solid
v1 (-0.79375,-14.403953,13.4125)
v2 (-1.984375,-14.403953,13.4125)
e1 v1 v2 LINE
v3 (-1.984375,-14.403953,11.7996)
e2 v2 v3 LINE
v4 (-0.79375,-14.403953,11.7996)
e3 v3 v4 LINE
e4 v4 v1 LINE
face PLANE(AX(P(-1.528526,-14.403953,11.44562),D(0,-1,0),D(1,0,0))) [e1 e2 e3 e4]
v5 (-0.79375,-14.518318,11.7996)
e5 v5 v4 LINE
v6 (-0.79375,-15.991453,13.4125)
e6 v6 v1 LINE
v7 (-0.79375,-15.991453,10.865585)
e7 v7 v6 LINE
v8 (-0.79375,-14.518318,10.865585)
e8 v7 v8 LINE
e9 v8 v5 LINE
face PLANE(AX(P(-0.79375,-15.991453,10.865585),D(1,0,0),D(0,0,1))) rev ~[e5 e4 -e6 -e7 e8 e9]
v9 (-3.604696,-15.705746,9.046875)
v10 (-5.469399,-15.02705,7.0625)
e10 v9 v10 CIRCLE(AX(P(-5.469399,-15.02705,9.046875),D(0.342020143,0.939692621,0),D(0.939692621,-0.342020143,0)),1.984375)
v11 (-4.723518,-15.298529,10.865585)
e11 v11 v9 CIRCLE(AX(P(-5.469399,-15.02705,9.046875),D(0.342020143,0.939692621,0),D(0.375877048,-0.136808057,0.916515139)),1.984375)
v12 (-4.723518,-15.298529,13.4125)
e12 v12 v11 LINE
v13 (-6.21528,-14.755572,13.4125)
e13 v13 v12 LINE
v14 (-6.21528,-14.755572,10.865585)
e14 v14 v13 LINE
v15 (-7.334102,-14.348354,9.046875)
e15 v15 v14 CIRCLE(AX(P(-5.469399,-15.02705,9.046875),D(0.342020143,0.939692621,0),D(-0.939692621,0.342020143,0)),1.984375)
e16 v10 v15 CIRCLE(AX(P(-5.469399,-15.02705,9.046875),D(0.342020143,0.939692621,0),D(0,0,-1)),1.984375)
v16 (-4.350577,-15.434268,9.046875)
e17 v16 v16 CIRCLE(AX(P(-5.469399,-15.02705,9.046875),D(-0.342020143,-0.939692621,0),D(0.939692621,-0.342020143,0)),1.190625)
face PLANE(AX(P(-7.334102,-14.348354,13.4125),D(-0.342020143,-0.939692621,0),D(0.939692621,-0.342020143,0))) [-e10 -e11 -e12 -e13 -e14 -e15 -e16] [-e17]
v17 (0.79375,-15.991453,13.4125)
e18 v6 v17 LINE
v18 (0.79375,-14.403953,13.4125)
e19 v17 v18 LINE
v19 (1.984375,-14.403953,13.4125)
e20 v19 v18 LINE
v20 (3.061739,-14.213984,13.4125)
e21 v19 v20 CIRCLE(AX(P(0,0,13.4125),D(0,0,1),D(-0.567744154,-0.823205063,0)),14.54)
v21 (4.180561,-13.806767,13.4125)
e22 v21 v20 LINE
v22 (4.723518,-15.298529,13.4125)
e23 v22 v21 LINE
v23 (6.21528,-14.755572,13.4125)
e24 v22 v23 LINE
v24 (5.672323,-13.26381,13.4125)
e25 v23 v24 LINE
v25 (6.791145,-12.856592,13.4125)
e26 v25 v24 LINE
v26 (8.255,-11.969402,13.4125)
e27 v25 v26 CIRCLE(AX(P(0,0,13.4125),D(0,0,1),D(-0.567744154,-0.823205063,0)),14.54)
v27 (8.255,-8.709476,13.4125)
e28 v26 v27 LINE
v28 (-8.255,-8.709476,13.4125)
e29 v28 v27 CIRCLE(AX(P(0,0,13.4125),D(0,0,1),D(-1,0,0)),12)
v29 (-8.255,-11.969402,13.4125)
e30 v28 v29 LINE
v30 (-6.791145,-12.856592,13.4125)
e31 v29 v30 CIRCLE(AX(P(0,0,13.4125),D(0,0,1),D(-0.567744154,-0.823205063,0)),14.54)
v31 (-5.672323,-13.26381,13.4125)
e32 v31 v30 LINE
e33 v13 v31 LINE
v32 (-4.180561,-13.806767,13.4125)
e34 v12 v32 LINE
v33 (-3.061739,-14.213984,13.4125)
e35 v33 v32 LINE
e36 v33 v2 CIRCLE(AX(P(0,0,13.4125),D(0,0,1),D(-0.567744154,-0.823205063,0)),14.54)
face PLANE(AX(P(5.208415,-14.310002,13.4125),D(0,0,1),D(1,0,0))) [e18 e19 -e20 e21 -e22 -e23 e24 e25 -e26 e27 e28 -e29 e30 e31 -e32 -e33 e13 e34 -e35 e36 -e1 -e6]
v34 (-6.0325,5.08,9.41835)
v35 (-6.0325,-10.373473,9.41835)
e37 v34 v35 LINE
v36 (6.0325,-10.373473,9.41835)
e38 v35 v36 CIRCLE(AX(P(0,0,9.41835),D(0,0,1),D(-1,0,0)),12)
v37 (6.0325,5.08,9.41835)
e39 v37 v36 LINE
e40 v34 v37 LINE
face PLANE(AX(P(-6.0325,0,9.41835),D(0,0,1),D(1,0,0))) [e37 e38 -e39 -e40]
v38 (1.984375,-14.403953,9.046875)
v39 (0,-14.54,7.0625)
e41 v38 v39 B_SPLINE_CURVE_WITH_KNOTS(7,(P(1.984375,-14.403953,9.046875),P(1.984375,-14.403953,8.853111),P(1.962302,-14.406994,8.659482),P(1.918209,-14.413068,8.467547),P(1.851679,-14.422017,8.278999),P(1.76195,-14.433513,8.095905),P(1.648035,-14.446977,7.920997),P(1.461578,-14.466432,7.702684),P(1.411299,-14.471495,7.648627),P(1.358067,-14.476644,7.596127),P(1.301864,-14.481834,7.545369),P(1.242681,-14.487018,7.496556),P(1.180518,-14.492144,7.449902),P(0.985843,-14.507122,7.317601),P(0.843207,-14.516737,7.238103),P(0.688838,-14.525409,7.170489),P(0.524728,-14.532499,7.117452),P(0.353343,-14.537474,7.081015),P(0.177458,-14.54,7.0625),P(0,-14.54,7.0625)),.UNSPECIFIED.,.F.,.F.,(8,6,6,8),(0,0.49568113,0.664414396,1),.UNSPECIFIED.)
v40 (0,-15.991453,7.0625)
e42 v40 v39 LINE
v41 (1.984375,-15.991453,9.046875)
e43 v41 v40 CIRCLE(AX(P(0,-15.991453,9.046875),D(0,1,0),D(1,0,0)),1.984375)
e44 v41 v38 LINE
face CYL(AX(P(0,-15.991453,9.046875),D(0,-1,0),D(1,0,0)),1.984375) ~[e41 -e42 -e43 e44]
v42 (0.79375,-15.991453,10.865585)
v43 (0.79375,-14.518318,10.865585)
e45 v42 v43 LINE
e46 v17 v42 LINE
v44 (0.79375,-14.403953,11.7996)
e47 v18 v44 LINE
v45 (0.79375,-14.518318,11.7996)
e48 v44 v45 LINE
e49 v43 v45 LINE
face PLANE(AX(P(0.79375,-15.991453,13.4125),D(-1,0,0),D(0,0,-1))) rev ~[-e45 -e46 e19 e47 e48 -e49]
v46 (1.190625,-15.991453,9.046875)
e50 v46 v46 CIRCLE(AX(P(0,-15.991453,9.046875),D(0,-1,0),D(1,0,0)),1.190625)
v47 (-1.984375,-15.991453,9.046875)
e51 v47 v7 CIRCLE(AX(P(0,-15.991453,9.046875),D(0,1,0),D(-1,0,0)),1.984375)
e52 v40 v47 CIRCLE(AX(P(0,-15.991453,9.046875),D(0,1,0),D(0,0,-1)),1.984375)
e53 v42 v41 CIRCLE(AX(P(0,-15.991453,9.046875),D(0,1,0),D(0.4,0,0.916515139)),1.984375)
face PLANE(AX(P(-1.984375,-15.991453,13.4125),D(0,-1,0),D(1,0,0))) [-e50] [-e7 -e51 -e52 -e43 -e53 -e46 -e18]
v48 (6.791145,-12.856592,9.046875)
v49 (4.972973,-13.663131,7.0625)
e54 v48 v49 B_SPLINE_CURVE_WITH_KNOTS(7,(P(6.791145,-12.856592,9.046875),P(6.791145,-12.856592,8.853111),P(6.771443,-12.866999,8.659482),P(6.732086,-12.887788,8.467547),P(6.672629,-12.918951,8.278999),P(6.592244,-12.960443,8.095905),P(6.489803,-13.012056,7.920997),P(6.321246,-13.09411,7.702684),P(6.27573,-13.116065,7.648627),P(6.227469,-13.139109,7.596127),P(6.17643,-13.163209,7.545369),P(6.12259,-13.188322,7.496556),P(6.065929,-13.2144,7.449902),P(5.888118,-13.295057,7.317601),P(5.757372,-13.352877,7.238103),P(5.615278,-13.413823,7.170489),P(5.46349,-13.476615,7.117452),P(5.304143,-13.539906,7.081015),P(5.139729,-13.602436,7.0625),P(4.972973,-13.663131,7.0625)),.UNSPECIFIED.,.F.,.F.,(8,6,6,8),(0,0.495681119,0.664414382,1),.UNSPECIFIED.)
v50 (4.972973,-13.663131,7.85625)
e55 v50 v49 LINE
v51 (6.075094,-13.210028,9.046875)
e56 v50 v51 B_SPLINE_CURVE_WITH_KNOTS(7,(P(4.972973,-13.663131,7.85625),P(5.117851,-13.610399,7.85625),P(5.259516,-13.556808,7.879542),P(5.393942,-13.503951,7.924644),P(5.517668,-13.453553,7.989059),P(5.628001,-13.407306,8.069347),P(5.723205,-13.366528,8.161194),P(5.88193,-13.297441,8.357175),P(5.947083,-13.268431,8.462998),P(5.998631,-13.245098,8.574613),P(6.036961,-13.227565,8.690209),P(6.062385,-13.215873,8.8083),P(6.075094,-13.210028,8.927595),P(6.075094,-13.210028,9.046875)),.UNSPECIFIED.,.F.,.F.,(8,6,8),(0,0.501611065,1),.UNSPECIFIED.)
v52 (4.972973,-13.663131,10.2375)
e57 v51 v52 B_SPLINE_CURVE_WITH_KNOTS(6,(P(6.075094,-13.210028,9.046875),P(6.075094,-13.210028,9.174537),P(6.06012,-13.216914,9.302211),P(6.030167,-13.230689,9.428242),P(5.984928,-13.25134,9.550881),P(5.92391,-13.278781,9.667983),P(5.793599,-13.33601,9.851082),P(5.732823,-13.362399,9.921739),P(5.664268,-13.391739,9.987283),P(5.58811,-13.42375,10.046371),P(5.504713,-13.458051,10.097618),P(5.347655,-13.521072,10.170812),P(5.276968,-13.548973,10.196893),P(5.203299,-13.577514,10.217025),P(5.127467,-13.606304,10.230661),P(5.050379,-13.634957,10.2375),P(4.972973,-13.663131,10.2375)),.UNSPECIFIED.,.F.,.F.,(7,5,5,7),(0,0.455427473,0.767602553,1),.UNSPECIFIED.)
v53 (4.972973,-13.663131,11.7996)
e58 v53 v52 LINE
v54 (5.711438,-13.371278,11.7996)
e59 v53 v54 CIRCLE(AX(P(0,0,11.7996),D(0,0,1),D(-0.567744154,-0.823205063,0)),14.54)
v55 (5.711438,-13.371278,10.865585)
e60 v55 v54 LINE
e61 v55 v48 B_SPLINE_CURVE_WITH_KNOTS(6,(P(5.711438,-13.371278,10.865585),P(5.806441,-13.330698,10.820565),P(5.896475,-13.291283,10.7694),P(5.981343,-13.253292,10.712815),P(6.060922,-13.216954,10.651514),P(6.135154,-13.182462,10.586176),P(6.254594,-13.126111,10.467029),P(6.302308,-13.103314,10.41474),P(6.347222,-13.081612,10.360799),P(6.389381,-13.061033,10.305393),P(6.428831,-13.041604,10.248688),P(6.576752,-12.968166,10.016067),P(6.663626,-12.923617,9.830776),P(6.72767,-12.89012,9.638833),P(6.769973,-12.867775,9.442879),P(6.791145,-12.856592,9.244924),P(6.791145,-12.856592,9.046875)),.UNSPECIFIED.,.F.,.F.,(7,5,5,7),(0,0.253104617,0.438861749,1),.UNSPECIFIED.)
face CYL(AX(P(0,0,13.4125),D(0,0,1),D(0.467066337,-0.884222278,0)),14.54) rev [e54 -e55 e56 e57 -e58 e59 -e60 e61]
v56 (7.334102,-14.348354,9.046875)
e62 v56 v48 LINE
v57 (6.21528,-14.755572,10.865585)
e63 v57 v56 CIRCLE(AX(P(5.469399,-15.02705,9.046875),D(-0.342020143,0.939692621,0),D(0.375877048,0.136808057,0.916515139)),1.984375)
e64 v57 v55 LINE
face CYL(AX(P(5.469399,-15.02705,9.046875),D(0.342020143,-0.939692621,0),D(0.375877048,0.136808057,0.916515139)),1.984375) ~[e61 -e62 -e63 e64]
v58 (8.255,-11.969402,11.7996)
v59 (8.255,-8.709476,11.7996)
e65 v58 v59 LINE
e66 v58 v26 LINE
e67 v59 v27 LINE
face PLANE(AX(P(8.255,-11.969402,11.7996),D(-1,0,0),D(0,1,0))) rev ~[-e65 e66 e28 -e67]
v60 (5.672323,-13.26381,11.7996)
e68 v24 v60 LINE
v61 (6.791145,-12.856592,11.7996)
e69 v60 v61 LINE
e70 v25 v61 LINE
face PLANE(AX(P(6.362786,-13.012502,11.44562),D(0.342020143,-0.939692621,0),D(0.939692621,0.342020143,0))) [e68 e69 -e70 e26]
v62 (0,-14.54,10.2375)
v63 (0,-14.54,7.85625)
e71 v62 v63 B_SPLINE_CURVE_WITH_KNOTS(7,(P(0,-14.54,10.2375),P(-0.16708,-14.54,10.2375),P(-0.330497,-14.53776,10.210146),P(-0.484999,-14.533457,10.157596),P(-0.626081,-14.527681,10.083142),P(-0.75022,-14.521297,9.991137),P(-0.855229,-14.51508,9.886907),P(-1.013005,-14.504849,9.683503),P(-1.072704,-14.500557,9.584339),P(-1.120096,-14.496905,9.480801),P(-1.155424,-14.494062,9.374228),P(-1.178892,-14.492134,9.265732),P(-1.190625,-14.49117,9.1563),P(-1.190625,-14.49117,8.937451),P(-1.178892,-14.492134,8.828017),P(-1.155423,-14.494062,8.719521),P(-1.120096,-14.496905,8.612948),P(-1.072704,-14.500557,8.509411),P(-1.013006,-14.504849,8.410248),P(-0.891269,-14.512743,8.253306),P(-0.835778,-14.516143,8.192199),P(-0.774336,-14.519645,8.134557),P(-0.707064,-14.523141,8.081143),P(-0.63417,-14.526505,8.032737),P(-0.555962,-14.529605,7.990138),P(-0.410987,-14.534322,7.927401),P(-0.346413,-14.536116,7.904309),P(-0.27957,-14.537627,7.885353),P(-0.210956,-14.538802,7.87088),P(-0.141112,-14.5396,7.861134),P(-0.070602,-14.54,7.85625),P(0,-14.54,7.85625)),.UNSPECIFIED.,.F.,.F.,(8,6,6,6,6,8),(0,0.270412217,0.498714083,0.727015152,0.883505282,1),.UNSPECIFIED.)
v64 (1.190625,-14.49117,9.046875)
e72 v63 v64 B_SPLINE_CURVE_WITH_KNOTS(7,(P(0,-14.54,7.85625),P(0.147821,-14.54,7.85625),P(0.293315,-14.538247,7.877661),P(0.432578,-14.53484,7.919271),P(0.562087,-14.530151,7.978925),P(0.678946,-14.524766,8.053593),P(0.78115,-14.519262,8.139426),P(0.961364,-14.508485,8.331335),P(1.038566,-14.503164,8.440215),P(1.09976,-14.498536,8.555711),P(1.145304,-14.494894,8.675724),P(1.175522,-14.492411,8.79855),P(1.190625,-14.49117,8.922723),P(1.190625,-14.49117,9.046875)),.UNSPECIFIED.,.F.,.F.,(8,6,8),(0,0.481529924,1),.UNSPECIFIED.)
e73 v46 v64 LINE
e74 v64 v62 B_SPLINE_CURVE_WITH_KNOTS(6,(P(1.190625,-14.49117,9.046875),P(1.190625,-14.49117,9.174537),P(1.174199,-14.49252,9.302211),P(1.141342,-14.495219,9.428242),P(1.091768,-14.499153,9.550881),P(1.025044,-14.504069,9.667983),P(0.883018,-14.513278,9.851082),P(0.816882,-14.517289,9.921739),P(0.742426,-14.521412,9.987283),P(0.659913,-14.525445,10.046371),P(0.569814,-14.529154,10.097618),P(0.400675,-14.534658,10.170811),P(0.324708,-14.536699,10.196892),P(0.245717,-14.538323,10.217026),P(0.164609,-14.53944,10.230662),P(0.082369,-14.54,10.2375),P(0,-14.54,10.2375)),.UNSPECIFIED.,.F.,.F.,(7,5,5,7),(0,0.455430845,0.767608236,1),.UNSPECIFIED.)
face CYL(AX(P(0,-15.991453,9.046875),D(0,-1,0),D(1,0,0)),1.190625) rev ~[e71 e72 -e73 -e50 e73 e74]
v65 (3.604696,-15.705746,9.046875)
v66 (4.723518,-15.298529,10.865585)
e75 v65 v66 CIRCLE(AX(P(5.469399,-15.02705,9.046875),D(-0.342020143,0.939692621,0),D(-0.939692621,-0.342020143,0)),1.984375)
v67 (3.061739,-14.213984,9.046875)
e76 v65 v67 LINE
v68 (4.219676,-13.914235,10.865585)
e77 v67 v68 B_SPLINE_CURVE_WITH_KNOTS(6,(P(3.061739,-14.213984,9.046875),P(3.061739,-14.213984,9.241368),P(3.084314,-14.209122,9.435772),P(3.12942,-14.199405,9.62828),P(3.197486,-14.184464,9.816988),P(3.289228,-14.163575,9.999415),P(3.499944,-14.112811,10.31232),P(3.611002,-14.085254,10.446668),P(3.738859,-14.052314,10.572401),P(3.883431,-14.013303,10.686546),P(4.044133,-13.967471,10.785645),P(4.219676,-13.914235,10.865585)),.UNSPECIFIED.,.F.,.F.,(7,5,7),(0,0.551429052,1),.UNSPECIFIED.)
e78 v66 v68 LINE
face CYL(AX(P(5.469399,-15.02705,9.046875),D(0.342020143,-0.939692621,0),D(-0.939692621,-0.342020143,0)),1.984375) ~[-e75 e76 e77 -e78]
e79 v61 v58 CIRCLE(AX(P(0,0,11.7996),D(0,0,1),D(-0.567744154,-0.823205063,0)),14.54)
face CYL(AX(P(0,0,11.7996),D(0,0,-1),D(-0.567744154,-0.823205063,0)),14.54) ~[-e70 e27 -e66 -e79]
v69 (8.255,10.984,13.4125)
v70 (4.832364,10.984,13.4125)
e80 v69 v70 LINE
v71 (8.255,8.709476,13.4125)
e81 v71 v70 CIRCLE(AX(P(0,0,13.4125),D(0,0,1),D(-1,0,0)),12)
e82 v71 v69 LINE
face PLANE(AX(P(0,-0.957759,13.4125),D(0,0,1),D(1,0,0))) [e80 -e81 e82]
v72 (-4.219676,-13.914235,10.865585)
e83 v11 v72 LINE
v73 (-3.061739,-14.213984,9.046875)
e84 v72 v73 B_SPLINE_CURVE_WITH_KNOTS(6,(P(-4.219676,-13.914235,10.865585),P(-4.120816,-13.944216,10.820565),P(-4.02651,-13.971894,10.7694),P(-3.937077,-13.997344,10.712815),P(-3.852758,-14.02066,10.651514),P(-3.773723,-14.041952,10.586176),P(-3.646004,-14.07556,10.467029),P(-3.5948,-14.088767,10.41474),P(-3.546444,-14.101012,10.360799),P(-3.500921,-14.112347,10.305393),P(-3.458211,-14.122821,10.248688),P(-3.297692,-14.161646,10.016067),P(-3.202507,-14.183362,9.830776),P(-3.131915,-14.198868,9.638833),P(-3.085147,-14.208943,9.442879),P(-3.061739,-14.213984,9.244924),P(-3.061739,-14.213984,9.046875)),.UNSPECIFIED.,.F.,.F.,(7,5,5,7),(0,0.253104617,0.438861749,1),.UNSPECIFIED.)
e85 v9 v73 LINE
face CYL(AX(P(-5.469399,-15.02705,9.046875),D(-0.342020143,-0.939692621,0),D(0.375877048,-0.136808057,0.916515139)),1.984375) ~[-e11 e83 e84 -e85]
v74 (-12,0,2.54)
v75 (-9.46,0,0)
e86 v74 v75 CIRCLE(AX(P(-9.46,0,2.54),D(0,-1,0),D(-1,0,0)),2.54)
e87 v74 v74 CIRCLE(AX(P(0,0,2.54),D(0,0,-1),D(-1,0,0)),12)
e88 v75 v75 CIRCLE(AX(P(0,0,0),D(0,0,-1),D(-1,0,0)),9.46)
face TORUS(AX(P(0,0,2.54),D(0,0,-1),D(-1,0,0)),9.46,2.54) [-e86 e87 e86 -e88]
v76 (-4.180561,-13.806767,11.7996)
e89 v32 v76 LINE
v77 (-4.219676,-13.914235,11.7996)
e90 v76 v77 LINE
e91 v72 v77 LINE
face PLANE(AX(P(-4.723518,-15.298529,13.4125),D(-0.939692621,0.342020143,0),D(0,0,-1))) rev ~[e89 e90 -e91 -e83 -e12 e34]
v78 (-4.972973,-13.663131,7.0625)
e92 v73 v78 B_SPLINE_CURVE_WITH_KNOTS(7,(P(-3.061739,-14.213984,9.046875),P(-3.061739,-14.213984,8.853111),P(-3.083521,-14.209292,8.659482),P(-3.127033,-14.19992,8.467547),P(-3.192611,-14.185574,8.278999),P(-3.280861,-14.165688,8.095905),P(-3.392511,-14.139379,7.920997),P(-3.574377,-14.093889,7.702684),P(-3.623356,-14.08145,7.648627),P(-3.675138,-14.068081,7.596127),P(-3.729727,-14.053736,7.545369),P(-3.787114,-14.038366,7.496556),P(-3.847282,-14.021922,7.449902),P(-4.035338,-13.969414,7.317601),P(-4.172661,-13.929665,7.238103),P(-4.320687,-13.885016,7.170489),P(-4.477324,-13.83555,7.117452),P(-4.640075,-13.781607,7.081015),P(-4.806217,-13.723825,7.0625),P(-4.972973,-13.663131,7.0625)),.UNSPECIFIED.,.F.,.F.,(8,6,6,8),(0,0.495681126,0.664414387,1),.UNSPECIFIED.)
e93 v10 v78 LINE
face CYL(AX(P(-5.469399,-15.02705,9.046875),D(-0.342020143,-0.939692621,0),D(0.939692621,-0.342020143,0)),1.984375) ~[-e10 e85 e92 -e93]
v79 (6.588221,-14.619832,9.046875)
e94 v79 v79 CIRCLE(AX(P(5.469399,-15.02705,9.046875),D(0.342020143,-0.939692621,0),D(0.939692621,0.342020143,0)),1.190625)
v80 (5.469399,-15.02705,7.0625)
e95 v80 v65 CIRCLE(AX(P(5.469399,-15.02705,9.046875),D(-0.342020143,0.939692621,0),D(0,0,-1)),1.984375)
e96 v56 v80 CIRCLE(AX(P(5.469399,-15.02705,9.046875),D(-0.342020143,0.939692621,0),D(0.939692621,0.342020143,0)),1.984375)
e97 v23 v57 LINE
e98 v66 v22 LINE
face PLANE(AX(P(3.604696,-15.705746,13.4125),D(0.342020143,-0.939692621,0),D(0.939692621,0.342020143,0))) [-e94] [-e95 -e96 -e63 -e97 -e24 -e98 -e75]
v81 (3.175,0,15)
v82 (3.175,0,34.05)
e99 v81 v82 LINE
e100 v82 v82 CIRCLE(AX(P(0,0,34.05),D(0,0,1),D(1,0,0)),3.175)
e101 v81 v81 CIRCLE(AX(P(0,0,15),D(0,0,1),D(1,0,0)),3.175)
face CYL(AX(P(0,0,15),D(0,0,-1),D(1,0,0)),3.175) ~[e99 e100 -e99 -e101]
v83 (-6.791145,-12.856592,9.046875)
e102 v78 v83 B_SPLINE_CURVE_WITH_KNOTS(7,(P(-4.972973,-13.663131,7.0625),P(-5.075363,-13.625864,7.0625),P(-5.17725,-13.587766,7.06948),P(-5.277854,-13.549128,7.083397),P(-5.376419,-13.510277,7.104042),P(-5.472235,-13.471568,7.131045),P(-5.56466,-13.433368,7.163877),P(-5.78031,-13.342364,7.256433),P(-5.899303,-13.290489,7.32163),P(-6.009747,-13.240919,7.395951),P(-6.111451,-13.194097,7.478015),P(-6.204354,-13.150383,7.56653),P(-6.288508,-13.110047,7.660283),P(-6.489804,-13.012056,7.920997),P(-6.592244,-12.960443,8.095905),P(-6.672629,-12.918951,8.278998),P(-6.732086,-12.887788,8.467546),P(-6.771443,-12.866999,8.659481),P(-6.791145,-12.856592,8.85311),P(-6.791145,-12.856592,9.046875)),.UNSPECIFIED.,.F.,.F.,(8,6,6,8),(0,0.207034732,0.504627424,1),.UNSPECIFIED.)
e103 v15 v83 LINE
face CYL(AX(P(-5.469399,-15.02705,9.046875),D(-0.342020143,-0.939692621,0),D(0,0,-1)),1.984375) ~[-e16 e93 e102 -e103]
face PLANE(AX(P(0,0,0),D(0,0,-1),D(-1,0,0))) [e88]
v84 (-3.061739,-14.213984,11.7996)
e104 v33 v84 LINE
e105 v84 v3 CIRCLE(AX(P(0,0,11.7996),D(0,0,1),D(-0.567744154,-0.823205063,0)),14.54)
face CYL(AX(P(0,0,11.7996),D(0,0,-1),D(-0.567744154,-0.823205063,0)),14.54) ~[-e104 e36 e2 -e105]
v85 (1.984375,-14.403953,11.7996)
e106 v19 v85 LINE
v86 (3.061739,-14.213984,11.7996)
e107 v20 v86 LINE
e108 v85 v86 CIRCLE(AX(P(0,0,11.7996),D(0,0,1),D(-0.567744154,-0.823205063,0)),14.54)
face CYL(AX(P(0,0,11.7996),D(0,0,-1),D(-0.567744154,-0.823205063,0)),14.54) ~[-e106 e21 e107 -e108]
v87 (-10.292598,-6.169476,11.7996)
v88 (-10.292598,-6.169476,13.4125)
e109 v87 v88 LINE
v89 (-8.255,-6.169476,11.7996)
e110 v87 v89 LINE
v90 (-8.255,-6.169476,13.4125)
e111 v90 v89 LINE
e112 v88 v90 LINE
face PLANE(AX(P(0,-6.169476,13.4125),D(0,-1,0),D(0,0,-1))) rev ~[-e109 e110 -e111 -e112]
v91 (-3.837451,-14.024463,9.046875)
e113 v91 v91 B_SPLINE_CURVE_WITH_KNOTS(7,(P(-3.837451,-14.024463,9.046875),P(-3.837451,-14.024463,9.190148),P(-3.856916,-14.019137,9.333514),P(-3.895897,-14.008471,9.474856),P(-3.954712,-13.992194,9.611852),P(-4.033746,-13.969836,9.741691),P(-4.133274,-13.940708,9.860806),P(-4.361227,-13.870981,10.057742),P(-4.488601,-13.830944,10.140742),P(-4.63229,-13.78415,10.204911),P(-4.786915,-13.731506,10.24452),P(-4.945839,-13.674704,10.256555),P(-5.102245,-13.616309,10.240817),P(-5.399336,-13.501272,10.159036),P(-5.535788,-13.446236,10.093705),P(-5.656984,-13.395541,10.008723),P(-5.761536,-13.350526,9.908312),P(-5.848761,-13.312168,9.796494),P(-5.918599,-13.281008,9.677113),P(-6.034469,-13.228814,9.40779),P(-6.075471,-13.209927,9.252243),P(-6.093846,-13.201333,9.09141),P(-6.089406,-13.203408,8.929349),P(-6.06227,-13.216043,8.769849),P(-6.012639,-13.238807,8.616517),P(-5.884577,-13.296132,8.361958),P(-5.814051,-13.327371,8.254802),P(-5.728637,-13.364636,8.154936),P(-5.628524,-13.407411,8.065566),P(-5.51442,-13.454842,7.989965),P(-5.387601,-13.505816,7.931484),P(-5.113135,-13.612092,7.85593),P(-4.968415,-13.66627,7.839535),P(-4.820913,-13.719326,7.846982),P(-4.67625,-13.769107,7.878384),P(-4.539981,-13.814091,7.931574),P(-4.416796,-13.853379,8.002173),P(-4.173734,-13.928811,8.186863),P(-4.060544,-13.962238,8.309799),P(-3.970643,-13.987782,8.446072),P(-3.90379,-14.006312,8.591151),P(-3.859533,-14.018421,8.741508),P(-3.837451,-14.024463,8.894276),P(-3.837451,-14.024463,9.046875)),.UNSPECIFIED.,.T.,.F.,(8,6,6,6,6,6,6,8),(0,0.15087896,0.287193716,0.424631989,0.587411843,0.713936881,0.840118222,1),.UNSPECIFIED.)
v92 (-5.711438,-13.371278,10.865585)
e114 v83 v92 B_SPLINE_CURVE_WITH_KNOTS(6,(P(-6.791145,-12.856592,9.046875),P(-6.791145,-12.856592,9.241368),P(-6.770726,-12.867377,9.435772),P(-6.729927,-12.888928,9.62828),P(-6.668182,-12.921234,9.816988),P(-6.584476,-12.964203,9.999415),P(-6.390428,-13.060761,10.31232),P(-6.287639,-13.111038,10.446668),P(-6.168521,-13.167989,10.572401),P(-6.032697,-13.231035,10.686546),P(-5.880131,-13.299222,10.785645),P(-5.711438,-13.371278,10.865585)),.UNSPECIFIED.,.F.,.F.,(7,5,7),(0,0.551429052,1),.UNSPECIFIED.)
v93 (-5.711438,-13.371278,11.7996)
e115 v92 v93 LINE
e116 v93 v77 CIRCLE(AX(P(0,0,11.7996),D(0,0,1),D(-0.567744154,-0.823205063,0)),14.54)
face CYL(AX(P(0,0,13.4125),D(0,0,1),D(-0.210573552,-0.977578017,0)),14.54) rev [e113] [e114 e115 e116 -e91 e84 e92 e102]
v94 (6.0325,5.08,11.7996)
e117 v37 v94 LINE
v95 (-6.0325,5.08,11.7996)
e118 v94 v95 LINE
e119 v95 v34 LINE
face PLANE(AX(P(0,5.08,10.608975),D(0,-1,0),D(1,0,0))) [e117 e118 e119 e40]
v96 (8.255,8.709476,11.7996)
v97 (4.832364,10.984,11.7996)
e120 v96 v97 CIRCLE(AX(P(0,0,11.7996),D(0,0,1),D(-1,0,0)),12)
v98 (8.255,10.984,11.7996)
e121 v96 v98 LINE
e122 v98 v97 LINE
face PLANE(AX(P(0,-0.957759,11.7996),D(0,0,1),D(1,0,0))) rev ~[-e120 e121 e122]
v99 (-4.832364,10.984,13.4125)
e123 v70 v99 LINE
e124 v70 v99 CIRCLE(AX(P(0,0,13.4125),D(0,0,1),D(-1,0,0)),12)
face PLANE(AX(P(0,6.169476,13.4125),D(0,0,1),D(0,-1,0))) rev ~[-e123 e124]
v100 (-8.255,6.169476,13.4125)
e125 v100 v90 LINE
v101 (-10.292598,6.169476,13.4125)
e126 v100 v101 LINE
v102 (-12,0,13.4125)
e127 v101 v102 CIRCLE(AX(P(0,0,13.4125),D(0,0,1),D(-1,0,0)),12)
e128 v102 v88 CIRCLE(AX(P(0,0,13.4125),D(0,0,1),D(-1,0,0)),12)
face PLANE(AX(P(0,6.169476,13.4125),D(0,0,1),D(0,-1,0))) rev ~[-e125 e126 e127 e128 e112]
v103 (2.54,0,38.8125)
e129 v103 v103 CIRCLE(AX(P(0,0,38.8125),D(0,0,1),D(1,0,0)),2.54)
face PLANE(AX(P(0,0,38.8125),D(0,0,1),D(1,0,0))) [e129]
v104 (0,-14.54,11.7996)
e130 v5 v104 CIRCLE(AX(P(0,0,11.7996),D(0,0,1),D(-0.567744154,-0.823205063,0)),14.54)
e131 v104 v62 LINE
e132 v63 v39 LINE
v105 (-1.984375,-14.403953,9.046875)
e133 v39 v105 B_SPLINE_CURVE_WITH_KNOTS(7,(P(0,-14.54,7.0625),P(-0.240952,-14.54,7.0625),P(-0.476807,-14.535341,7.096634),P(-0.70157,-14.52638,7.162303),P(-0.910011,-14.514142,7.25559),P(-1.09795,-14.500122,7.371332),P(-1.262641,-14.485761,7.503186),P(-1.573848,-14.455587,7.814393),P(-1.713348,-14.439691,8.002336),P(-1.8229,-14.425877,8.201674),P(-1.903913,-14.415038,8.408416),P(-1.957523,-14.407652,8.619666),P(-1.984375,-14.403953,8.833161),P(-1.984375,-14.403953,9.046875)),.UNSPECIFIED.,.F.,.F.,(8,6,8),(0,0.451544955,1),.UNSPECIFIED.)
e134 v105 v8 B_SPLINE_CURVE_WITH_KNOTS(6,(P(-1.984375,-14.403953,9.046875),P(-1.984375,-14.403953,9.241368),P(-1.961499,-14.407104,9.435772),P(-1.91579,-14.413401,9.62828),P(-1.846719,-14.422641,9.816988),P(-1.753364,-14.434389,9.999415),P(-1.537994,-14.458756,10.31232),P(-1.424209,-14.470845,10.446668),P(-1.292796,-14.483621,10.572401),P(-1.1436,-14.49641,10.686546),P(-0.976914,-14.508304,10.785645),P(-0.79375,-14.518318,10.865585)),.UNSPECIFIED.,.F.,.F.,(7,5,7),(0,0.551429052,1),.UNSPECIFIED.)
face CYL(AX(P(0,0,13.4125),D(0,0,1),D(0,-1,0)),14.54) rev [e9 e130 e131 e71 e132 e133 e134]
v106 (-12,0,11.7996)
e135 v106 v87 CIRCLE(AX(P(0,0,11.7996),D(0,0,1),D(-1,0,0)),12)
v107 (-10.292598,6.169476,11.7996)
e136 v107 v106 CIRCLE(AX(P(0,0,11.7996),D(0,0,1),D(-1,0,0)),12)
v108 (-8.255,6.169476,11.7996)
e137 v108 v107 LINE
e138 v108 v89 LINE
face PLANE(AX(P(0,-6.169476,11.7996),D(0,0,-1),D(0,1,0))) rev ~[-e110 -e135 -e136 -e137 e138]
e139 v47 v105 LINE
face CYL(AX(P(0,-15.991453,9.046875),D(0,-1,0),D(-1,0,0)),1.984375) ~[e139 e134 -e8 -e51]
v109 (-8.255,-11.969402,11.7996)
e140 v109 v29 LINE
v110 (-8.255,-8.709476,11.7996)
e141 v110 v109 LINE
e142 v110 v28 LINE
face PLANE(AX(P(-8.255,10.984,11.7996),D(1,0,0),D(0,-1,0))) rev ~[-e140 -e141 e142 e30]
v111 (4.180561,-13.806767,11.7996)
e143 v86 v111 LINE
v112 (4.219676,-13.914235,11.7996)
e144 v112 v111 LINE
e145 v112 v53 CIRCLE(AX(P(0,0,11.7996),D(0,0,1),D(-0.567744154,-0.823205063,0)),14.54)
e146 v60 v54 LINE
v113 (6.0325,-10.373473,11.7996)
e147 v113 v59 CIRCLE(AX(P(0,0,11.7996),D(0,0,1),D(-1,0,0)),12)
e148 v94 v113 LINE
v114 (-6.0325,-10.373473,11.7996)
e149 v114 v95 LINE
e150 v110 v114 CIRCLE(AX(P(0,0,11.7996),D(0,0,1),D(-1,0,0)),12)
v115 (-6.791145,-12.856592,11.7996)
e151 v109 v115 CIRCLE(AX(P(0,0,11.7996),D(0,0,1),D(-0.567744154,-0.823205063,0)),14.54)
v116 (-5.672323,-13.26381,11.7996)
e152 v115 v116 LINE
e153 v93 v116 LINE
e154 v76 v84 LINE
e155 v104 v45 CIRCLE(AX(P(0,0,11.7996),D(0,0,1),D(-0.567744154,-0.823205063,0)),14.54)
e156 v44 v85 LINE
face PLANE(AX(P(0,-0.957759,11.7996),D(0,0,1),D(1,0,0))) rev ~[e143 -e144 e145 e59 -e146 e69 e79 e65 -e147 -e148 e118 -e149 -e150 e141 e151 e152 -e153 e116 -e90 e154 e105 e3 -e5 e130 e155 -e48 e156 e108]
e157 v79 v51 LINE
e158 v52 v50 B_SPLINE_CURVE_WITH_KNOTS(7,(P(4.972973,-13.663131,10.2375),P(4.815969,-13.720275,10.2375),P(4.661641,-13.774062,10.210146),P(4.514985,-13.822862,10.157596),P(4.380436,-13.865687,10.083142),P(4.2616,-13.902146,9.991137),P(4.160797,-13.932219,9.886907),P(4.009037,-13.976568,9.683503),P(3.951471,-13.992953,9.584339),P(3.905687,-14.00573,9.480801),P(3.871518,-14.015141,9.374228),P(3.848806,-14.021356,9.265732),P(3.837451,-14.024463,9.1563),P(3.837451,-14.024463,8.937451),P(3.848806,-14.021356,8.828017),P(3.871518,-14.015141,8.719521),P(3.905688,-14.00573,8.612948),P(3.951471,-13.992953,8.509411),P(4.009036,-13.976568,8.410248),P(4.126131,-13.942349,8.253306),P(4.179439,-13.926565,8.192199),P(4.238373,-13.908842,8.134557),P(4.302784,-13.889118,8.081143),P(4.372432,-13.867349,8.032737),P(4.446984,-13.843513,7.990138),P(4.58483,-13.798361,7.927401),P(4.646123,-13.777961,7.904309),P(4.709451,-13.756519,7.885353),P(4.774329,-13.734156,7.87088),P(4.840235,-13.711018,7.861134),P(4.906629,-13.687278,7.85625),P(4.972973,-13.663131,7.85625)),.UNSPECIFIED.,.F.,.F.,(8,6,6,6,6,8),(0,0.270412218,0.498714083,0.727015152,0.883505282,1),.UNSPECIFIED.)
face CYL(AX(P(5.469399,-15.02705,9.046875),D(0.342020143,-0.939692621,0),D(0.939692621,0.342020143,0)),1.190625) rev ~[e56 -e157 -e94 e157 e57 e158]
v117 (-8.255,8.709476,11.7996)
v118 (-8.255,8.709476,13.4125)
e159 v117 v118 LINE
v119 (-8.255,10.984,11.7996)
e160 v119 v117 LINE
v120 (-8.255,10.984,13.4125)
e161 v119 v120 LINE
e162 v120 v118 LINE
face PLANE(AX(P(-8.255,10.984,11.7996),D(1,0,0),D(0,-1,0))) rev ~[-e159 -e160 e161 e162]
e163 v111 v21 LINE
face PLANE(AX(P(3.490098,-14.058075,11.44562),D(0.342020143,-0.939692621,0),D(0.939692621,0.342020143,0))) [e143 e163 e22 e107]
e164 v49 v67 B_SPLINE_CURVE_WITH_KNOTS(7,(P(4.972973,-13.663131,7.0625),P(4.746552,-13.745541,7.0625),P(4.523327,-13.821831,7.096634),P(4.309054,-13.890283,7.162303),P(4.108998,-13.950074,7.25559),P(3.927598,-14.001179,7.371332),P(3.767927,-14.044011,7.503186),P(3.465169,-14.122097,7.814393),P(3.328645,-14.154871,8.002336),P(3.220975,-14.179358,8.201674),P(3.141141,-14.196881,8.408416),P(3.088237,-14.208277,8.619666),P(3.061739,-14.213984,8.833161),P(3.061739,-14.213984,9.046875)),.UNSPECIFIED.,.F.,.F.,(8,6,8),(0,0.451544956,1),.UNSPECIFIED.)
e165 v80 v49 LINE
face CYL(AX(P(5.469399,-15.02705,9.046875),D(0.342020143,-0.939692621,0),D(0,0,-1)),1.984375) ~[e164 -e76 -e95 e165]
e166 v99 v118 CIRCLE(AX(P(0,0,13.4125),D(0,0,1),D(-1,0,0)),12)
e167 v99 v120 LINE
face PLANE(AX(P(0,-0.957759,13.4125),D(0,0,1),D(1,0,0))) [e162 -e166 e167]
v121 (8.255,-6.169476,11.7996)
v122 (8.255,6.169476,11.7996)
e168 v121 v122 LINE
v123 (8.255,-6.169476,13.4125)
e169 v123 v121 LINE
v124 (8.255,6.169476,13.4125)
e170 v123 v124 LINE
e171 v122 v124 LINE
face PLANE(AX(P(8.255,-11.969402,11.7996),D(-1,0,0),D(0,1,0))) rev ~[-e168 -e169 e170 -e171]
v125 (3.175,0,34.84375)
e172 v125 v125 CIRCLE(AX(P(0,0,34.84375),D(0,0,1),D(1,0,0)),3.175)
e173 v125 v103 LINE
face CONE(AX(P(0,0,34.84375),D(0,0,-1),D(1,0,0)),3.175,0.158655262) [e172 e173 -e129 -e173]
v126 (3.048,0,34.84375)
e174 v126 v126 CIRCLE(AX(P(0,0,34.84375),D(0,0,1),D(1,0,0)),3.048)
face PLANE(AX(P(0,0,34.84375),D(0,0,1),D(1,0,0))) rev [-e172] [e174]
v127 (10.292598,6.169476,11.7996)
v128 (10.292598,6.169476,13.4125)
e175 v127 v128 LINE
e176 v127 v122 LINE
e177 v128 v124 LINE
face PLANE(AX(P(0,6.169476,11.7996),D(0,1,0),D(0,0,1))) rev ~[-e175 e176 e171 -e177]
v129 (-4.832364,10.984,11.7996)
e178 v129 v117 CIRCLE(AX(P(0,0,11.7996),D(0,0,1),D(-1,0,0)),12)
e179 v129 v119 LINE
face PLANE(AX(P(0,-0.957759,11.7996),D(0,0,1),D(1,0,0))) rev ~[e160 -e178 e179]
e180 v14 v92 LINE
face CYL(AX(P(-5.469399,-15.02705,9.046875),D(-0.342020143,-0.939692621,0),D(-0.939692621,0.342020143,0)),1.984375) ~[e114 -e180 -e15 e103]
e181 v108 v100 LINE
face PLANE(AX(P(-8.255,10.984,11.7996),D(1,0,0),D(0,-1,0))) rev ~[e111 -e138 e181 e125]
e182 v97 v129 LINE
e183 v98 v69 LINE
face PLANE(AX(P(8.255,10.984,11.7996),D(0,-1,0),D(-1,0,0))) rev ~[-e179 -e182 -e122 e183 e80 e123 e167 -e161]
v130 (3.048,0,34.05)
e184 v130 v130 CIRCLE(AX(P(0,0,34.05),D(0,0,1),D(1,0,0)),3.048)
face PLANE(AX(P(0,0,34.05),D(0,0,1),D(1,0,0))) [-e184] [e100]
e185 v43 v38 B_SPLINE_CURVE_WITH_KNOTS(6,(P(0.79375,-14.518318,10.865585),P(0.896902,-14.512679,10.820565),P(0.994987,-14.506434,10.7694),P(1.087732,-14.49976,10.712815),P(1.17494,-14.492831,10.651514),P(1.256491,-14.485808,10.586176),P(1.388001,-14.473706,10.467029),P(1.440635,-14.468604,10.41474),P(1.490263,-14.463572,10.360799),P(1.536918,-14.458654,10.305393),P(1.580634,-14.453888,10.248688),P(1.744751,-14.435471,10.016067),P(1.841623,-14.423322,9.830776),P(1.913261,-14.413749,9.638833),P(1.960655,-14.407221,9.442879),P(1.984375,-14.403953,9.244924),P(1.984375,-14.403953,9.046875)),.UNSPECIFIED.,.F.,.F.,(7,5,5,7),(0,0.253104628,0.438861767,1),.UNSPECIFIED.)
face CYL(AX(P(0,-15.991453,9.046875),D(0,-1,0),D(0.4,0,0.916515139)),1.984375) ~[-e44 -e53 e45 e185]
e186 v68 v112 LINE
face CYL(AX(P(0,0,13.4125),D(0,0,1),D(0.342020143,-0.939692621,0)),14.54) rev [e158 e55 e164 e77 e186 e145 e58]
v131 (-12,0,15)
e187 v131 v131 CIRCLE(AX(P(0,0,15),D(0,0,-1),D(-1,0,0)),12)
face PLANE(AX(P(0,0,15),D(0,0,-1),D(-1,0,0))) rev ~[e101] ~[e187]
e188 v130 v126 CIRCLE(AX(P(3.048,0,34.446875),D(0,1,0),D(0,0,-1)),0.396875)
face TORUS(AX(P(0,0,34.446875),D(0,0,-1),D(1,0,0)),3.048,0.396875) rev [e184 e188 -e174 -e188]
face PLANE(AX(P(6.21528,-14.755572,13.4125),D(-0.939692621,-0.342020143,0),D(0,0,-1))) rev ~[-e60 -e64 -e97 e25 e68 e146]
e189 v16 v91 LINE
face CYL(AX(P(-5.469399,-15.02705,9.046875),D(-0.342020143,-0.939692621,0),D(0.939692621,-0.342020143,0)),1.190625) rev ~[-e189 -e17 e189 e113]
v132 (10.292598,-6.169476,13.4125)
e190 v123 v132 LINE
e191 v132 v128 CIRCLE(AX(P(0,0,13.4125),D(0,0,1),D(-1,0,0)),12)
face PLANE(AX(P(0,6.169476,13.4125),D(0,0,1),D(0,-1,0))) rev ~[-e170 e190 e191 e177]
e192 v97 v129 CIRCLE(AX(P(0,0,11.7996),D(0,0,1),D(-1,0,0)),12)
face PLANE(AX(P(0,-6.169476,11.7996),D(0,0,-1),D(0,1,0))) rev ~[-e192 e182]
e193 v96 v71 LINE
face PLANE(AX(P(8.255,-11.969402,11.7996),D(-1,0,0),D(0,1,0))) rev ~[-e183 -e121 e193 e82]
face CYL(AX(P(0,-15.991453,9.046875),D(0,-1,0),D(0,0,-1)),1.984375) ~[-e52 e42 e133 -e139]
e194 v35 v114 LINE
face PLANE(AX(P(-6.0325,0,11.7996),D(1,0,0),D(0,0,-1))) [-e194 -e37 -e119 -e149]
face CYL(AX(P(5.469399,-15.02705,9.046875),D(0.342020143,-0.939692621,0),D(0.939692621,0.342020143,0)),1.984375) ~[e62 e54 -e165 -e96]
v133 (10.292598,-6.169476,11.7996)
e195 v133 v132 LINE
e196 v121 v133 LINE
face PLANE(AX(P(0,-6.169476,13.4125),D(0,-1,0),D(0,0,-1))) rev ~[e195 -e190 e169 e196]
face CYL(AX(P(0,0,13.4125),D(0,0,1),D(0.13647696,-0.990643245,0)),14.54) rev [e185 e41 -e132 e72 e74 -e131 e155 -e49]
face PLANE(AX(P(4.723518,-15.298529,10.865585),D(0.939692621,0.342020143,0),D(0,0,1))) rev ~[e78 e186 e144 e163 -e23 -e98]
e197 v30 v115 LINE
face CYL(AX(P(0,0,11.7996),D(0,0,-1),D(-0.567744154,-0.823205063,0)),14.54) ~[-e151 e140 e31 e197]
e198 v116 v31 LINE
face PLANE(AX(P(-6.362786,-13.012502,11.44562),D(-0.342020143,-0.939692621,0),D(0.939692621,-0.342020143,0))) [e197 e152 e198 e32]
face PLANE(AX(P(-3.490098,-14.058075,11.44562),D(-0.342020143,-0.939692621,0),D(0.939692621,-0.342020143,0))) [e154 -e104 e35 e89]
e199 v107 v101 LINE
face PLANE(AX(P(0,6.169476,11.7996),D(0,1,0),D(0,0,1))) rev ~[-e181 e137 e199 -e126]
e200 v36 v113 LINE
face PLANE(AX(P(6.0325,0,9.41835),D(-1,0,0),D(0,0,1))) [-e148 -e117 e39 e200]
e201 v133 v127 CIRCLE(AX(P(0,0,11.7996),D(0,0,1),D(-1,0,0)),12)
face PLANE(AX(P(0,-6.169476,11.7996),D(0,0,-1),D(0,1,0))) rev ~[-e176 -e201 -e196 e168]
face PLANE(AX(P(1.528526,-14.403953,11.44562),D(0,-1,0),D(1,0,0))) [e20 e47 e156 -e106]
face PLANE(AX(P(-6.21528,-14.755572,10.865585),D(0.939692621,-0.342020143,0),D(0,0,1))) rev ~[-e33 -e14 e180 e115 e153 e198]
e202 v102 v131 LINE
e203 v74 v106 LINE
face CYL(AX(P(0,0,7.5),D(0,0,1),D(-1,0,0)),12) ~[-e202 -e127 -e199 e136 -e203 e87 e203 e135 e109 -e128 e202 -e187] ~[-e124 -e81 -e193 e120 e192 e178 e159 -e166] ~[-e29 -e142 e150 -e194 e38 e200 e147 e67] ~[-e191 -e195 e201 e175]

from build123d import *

# Parameters (mm, degrees)
F0_W          = 12
F0_H          = 15
F2_R          = 2.54
F3_W          = 8.255
F3_H          = 1.6129
F4_DEPTH      = 12.7
F6_DEPTH      = 12.7
F8_DEPTH      = 5.08
F8_DEPTH_BACK = 25.4
F10_DEPTH     = 1.6129
F12_DEPTH     = 6.35
F13_R         = 1.190625
F14_DEPTH     = 1.5875
F15_R         = 1.190625
F16_DEPTH     = 1.5875
F17_R         = 1.190625
F18_DEPTH     = 1.5875
F19_R         = 3.175
F20_DEPTH     = 19.05


with BuildPart() as f1:
    # F0 (on Front) → F1 (revolve)
    with BuildSketch(Plane.XZ):
        with Locations((-6, 7.5)):
            Rectangle(F0_W, F0_H)
    revolve(axis=Axis((0, 0, 7.5), (0, 0, -1)))

    # F2
    f2_edges = [f1.edges().sort_by_distance(p)[0] for p in [
        (12, 0, 0),
    ]]
    fillet(f2_edges, radius=F2_R)

    # F3 (on Front) → F4 (cut, symmetric)
    with BuildSketch(Plane.XZ):
        with Locations((-4.1275, 12.60605)):
            Rectangle(F3_W, F3_H)
        with Locations((4.1275, 12.60605)):
            Rectangle(F3_W, F3_H)
    extrude(amount=F4_DEPTH, both=True, mode=Mode.SUBTRACT)

    # F5 (on Right) → F6 (cut, symmetric)
    with BuildSketch(Plane.YZ):
        Polygon((6.1694761611, 13.4125), (-6.1694761611, 13.4125), (-6.1694761611, 11.7996), (0, 11.7996), (6.1694761611, 11.7996), align=None)
    extrude(amount=F6_DEPTH, both=True, mode=Mode.SUBTRACT)

    # F7 (on Front) → F8 (cut, two sides)
    with BuildSketch(Plane.XZ) as f8_sk:
        Polygon((0, 11.7996), (-6.0325, 11.7996), (-6.0325, 9.41835), (6.0325, 9.41835), (6.0325, 11.7996), align=None)
    extrude(amount=-F8_DEPTH, mode=Mode.SUBTRACT)
    extrude(f8_sk.sketch, amount=F8_DEPTH_BACK, mode=Mode.SUBTRACT)

    # F9 (on face) → F10 (join)
    with BuildSketch(Plane.XY.offset(11.7996)):
        with BuildLine():
            Line((0, 10.984), (-8.255, 10.984))
            Line((-8.255, 10.984), (-8.255, -11.9694016141))
            ThreePointArc((-8.255, -11.9694016141), (0, -14.54), (8.255, -11.9694016141))
            Line((8.255, -11.9694016141), (8.255, 10.984))
            Line((8.255, 10.984), (0, 10.984))
        make_face()
    extrude(amount=F10_DEPTH)

    # F11 (on face) → F12 (join)
    with BuildSketch(Plane.XY.offset(13.4125)):
        with BuildLine():
            ThreePointArc((6.7911445407, -12.8565919212), (5.8958664247, -13.2909878904), (4.972972884, -13.6631307062))
            ThreePointArc((4.972972884, -13.6631307062), (4.0267866244, -13.9712773032), (3.0617394519, -14.213984365))
            Line((3.0617394519, -14.213984365), (3.6046964295, -15.7057464005))
            Line((3.6046964295, -15.7057464005), (7.3341015182, -14.3483539567))
            Line((7.3341015182, -14.3483539567), (6.7911445407, -12.8565919212))
        make_face()
        with BuildLine():
            ThreePointArc((1.984375, -14.4039527859), (0.9945165892, -14.5059483231), (0, -14.54))
            ThreePointArc((0, -14.54), (-0.9945165892, -14.5059483231), (-1.984375, -14.4039527859))
            Line((-1.984375, -14.4039527859), (-1.984375, -15.9914527859))
            Line((-1.984375, -15.9914527859), (1.984375, -15.9914527859))
            Line((1.984375, -15.9914527859), (1.984375, -14.4039527859))
        make_face()
        with BuildLine():
            ThreePointArc((-3.0617394519, -14.213984365), (-4.972972884, -13.6631307062), (-6.7911445407, -12.8565919212))
            Line((-6.7911445407, -12.8565919212), (-7.3341015182, -14.3483539567))
            Line((-7.3341015182, -14.3483539567), (-3.6046964295, -15.7057464005))
            Line((-3.6046964295, -15.7057464005), (-3.0617394519, -14.213984365))
        make_face()
    extrude(amount=-F12_DEPTH)

    # F13 (on face) → F14 (cut, through all)
    with BuildSketch(Plane(origin=(5.4693989738, -15.0270501786, 0), x_dir=(0.9396926208, 0.3420201433, 0), z_dir=(0.3420201433, -0.9396926208, 0))):
        with BuildLine():
            ThreePointArc((-1.984375, 9.046875), (-1.6602472402, 10.13376195), (-0.79375, 10.8655847289))
            Line((-0.79375, 10.8655847289), (-0.79375, 13.4125))
            Line((-0.79375, 13.4125), (-1.984375, 13.4125))
            Line((-1.984375, 13.4125), (-1.984375, 9.046875))
        make_face()
        with BuildLine():
            ThreePointArc((0.79375, 10.8655847289), (1.6602472402, 10.13376195), (1.984375, 9.046875))
            Line((1.984375, 9.046875), (1.984375, 13.4125))
            Line((1.984375, 13.4125), (0.79375, 13.4125))
            Line((0.79375, 13.4125), (0.79375, 10.8655847289))
        make_face()
        with BuildLine():
            Line((1.984375, 7.0625), (1.984375, 9.046875))
            ThreePointArc((1.984375, 9.046875), (1.4031650189, 7.6437099811), (0, 7.0625))
            Line((0, 7.0625), (1.984375, 7.0625))
        make_face()
        with BuildLine():
            Line((-1.984375, 7.0625), (0, 7.0625))
            ThreePointArc((0, 7.0625), (-1.4031650189, 7.6437099811), (-1.984375, 9.046875))
            Line((-1.984375, 9.046875), (-1.984375, 7.0625))
        make_face()
        with Locations((0, 9.046875)):
            Circle(F13_R)
    extrude(amount=-F14_DEPTH, mode=Mode.SUBTRACT)

    # F15 (on face) → F16 (cut, through all)
    with BuildSketch(Plane.XZ.offset(15.9914527859)):
        with BuildLine():
            ThreePointArc((-1.984375, 9.046875), (-1.6602472402, 10.13376195), (-0.79375, 10.8655847289))
            Line((-0.79375, 10.8655847289), (-0.79375, 13.4125))
            Line((-0.79375, 13.4125), (-1.984375, 13.4125))
            Line((-1.984375, 13.4125), (-1.984375, 9.046875))
        make_face()
        with BuildLine():
            ThreePointArc((0.79375, 10.8655847289), (1.6602472402, 10.13376195), (1.984375, 9.046875))
            Line((1.984375, 9.046875), (1.984375, 13.4125))
            Line((1.984375, 13.4125), (0.79375, 13.4125))
            Line((0.79375, 13.4125), (0.79375, 10.8655847289))
        make_face()
        with Locations((0, 9.046875)):
            Circle(F15_R)
        with BuildLine():
            Line((1.984375, 7.0625), (1.984375, 9.046875))
            ThreePointArc((1.984375, 9.046875), (1.4031650189, 7.6437099811), (0, 7.0625))
            Line((0, 7.0625), (1.984375, 7.0625))
        make_face()
        with BuildLine():
            Line((-1.984375, 7.0625), (0, 7.0625))
            ThreePointArc((0, 7.0625), (-1.4031650189, 7.6437099811), (-1.984375, 9.046875))
            Line((-1.984375, 9.046875), (-1.984375, 7.0625))
        make_face()
    extrude(amount=-F16_DEPTH, mode=Mode.SUBTRACT)

    # F17 (on face) → F18 (cut, through all)
    with BuildSketch(Plane(origin=(-5.4693989738, -15.0270501786, 0), x_dir=(0.9396926208, -0.3420201433, 0), z_dir=(-0.3420201433, -0.9396926208, 0))):
        with BuildLine():
            ThreePointArc((-1.984375, 9.046875), (-1.6602472402, 10.13376195), (-0.79375, 10.8655847289))
            Line((-0.79375, 10.8655847289), (-0.79375, 13.4125))
            Line((-0.79375, 13.4125), (-1.984375, 13.4125))
            Line((-1.984375, 13.4125), (-1.984375, 9.046875))
        make_face()
        with BuildLine():
            ThreePointArc((0.79375, 10.8655847289), (1.6602472402, 10.13376195), (1.984375, 9.046875))
            Line((1.984375, 9.046875), (1.984375, 13.4125))
            Line((1.984375, 13.4125), (0.79375, 13.4125))
            Line((0.79375, 13.4125), (0.79375, 10.8655847289))
        make_face()
        with Locations((0, 9.046875)):
            Circle(F17_R)
        with BuildLine():
            Line((1.984375, 7.0625), (1.984375, 9.046875))
            ThreePointArc((1.984375, 9.046875), (1.4031650189, 7.6437099811), (0, 7.0625))
            Line((0, 7.0625), (1.984375, 7.0625))
        make_face()
        with BuildLine():
            Line((-1.984375, 7.0625), (0, 7.0625))
            ThreePointArc((0, 7.0625), (-1.4031650189, 7.6437099811), (-1.984375, 9.046875))
            Line((-1.984375, 9.046875), (-1.984375, 7.0625))
        make_face()
    extrude(amount=-F18_DEPTH, mode=Mode.SUBTRACT)

    # F19 (on face) → F20 (join)
    with BuildSketch(Plane.XY.offset(15)):
        Circle(F19_R)
    extrude(amount=F20_DEPTH)

    # F21 (on Front) → F22 (revolve)
    with BuildSketch(Plane.XZ):
        with BuildLine():
            Line((0, 38.8125), (0, 34.05))
            Line((0, 34.05), (3.048, 34.05))
            ThreePointArc((3.048, 34.05), (2.651125, 34.446875), (3.048, 34.84375))
            Line((3.048, 34.84375), (3.175, 34.84375))
            Line((3.175, 34.84375), (2.54, 38.8125))
            Line((2.54, 38.8125), (0, 38.8125))
        make_face()
    revolve(axis=Axis((0, 0, 36.43125), (0, 0, 1)))


solid = f1.part
